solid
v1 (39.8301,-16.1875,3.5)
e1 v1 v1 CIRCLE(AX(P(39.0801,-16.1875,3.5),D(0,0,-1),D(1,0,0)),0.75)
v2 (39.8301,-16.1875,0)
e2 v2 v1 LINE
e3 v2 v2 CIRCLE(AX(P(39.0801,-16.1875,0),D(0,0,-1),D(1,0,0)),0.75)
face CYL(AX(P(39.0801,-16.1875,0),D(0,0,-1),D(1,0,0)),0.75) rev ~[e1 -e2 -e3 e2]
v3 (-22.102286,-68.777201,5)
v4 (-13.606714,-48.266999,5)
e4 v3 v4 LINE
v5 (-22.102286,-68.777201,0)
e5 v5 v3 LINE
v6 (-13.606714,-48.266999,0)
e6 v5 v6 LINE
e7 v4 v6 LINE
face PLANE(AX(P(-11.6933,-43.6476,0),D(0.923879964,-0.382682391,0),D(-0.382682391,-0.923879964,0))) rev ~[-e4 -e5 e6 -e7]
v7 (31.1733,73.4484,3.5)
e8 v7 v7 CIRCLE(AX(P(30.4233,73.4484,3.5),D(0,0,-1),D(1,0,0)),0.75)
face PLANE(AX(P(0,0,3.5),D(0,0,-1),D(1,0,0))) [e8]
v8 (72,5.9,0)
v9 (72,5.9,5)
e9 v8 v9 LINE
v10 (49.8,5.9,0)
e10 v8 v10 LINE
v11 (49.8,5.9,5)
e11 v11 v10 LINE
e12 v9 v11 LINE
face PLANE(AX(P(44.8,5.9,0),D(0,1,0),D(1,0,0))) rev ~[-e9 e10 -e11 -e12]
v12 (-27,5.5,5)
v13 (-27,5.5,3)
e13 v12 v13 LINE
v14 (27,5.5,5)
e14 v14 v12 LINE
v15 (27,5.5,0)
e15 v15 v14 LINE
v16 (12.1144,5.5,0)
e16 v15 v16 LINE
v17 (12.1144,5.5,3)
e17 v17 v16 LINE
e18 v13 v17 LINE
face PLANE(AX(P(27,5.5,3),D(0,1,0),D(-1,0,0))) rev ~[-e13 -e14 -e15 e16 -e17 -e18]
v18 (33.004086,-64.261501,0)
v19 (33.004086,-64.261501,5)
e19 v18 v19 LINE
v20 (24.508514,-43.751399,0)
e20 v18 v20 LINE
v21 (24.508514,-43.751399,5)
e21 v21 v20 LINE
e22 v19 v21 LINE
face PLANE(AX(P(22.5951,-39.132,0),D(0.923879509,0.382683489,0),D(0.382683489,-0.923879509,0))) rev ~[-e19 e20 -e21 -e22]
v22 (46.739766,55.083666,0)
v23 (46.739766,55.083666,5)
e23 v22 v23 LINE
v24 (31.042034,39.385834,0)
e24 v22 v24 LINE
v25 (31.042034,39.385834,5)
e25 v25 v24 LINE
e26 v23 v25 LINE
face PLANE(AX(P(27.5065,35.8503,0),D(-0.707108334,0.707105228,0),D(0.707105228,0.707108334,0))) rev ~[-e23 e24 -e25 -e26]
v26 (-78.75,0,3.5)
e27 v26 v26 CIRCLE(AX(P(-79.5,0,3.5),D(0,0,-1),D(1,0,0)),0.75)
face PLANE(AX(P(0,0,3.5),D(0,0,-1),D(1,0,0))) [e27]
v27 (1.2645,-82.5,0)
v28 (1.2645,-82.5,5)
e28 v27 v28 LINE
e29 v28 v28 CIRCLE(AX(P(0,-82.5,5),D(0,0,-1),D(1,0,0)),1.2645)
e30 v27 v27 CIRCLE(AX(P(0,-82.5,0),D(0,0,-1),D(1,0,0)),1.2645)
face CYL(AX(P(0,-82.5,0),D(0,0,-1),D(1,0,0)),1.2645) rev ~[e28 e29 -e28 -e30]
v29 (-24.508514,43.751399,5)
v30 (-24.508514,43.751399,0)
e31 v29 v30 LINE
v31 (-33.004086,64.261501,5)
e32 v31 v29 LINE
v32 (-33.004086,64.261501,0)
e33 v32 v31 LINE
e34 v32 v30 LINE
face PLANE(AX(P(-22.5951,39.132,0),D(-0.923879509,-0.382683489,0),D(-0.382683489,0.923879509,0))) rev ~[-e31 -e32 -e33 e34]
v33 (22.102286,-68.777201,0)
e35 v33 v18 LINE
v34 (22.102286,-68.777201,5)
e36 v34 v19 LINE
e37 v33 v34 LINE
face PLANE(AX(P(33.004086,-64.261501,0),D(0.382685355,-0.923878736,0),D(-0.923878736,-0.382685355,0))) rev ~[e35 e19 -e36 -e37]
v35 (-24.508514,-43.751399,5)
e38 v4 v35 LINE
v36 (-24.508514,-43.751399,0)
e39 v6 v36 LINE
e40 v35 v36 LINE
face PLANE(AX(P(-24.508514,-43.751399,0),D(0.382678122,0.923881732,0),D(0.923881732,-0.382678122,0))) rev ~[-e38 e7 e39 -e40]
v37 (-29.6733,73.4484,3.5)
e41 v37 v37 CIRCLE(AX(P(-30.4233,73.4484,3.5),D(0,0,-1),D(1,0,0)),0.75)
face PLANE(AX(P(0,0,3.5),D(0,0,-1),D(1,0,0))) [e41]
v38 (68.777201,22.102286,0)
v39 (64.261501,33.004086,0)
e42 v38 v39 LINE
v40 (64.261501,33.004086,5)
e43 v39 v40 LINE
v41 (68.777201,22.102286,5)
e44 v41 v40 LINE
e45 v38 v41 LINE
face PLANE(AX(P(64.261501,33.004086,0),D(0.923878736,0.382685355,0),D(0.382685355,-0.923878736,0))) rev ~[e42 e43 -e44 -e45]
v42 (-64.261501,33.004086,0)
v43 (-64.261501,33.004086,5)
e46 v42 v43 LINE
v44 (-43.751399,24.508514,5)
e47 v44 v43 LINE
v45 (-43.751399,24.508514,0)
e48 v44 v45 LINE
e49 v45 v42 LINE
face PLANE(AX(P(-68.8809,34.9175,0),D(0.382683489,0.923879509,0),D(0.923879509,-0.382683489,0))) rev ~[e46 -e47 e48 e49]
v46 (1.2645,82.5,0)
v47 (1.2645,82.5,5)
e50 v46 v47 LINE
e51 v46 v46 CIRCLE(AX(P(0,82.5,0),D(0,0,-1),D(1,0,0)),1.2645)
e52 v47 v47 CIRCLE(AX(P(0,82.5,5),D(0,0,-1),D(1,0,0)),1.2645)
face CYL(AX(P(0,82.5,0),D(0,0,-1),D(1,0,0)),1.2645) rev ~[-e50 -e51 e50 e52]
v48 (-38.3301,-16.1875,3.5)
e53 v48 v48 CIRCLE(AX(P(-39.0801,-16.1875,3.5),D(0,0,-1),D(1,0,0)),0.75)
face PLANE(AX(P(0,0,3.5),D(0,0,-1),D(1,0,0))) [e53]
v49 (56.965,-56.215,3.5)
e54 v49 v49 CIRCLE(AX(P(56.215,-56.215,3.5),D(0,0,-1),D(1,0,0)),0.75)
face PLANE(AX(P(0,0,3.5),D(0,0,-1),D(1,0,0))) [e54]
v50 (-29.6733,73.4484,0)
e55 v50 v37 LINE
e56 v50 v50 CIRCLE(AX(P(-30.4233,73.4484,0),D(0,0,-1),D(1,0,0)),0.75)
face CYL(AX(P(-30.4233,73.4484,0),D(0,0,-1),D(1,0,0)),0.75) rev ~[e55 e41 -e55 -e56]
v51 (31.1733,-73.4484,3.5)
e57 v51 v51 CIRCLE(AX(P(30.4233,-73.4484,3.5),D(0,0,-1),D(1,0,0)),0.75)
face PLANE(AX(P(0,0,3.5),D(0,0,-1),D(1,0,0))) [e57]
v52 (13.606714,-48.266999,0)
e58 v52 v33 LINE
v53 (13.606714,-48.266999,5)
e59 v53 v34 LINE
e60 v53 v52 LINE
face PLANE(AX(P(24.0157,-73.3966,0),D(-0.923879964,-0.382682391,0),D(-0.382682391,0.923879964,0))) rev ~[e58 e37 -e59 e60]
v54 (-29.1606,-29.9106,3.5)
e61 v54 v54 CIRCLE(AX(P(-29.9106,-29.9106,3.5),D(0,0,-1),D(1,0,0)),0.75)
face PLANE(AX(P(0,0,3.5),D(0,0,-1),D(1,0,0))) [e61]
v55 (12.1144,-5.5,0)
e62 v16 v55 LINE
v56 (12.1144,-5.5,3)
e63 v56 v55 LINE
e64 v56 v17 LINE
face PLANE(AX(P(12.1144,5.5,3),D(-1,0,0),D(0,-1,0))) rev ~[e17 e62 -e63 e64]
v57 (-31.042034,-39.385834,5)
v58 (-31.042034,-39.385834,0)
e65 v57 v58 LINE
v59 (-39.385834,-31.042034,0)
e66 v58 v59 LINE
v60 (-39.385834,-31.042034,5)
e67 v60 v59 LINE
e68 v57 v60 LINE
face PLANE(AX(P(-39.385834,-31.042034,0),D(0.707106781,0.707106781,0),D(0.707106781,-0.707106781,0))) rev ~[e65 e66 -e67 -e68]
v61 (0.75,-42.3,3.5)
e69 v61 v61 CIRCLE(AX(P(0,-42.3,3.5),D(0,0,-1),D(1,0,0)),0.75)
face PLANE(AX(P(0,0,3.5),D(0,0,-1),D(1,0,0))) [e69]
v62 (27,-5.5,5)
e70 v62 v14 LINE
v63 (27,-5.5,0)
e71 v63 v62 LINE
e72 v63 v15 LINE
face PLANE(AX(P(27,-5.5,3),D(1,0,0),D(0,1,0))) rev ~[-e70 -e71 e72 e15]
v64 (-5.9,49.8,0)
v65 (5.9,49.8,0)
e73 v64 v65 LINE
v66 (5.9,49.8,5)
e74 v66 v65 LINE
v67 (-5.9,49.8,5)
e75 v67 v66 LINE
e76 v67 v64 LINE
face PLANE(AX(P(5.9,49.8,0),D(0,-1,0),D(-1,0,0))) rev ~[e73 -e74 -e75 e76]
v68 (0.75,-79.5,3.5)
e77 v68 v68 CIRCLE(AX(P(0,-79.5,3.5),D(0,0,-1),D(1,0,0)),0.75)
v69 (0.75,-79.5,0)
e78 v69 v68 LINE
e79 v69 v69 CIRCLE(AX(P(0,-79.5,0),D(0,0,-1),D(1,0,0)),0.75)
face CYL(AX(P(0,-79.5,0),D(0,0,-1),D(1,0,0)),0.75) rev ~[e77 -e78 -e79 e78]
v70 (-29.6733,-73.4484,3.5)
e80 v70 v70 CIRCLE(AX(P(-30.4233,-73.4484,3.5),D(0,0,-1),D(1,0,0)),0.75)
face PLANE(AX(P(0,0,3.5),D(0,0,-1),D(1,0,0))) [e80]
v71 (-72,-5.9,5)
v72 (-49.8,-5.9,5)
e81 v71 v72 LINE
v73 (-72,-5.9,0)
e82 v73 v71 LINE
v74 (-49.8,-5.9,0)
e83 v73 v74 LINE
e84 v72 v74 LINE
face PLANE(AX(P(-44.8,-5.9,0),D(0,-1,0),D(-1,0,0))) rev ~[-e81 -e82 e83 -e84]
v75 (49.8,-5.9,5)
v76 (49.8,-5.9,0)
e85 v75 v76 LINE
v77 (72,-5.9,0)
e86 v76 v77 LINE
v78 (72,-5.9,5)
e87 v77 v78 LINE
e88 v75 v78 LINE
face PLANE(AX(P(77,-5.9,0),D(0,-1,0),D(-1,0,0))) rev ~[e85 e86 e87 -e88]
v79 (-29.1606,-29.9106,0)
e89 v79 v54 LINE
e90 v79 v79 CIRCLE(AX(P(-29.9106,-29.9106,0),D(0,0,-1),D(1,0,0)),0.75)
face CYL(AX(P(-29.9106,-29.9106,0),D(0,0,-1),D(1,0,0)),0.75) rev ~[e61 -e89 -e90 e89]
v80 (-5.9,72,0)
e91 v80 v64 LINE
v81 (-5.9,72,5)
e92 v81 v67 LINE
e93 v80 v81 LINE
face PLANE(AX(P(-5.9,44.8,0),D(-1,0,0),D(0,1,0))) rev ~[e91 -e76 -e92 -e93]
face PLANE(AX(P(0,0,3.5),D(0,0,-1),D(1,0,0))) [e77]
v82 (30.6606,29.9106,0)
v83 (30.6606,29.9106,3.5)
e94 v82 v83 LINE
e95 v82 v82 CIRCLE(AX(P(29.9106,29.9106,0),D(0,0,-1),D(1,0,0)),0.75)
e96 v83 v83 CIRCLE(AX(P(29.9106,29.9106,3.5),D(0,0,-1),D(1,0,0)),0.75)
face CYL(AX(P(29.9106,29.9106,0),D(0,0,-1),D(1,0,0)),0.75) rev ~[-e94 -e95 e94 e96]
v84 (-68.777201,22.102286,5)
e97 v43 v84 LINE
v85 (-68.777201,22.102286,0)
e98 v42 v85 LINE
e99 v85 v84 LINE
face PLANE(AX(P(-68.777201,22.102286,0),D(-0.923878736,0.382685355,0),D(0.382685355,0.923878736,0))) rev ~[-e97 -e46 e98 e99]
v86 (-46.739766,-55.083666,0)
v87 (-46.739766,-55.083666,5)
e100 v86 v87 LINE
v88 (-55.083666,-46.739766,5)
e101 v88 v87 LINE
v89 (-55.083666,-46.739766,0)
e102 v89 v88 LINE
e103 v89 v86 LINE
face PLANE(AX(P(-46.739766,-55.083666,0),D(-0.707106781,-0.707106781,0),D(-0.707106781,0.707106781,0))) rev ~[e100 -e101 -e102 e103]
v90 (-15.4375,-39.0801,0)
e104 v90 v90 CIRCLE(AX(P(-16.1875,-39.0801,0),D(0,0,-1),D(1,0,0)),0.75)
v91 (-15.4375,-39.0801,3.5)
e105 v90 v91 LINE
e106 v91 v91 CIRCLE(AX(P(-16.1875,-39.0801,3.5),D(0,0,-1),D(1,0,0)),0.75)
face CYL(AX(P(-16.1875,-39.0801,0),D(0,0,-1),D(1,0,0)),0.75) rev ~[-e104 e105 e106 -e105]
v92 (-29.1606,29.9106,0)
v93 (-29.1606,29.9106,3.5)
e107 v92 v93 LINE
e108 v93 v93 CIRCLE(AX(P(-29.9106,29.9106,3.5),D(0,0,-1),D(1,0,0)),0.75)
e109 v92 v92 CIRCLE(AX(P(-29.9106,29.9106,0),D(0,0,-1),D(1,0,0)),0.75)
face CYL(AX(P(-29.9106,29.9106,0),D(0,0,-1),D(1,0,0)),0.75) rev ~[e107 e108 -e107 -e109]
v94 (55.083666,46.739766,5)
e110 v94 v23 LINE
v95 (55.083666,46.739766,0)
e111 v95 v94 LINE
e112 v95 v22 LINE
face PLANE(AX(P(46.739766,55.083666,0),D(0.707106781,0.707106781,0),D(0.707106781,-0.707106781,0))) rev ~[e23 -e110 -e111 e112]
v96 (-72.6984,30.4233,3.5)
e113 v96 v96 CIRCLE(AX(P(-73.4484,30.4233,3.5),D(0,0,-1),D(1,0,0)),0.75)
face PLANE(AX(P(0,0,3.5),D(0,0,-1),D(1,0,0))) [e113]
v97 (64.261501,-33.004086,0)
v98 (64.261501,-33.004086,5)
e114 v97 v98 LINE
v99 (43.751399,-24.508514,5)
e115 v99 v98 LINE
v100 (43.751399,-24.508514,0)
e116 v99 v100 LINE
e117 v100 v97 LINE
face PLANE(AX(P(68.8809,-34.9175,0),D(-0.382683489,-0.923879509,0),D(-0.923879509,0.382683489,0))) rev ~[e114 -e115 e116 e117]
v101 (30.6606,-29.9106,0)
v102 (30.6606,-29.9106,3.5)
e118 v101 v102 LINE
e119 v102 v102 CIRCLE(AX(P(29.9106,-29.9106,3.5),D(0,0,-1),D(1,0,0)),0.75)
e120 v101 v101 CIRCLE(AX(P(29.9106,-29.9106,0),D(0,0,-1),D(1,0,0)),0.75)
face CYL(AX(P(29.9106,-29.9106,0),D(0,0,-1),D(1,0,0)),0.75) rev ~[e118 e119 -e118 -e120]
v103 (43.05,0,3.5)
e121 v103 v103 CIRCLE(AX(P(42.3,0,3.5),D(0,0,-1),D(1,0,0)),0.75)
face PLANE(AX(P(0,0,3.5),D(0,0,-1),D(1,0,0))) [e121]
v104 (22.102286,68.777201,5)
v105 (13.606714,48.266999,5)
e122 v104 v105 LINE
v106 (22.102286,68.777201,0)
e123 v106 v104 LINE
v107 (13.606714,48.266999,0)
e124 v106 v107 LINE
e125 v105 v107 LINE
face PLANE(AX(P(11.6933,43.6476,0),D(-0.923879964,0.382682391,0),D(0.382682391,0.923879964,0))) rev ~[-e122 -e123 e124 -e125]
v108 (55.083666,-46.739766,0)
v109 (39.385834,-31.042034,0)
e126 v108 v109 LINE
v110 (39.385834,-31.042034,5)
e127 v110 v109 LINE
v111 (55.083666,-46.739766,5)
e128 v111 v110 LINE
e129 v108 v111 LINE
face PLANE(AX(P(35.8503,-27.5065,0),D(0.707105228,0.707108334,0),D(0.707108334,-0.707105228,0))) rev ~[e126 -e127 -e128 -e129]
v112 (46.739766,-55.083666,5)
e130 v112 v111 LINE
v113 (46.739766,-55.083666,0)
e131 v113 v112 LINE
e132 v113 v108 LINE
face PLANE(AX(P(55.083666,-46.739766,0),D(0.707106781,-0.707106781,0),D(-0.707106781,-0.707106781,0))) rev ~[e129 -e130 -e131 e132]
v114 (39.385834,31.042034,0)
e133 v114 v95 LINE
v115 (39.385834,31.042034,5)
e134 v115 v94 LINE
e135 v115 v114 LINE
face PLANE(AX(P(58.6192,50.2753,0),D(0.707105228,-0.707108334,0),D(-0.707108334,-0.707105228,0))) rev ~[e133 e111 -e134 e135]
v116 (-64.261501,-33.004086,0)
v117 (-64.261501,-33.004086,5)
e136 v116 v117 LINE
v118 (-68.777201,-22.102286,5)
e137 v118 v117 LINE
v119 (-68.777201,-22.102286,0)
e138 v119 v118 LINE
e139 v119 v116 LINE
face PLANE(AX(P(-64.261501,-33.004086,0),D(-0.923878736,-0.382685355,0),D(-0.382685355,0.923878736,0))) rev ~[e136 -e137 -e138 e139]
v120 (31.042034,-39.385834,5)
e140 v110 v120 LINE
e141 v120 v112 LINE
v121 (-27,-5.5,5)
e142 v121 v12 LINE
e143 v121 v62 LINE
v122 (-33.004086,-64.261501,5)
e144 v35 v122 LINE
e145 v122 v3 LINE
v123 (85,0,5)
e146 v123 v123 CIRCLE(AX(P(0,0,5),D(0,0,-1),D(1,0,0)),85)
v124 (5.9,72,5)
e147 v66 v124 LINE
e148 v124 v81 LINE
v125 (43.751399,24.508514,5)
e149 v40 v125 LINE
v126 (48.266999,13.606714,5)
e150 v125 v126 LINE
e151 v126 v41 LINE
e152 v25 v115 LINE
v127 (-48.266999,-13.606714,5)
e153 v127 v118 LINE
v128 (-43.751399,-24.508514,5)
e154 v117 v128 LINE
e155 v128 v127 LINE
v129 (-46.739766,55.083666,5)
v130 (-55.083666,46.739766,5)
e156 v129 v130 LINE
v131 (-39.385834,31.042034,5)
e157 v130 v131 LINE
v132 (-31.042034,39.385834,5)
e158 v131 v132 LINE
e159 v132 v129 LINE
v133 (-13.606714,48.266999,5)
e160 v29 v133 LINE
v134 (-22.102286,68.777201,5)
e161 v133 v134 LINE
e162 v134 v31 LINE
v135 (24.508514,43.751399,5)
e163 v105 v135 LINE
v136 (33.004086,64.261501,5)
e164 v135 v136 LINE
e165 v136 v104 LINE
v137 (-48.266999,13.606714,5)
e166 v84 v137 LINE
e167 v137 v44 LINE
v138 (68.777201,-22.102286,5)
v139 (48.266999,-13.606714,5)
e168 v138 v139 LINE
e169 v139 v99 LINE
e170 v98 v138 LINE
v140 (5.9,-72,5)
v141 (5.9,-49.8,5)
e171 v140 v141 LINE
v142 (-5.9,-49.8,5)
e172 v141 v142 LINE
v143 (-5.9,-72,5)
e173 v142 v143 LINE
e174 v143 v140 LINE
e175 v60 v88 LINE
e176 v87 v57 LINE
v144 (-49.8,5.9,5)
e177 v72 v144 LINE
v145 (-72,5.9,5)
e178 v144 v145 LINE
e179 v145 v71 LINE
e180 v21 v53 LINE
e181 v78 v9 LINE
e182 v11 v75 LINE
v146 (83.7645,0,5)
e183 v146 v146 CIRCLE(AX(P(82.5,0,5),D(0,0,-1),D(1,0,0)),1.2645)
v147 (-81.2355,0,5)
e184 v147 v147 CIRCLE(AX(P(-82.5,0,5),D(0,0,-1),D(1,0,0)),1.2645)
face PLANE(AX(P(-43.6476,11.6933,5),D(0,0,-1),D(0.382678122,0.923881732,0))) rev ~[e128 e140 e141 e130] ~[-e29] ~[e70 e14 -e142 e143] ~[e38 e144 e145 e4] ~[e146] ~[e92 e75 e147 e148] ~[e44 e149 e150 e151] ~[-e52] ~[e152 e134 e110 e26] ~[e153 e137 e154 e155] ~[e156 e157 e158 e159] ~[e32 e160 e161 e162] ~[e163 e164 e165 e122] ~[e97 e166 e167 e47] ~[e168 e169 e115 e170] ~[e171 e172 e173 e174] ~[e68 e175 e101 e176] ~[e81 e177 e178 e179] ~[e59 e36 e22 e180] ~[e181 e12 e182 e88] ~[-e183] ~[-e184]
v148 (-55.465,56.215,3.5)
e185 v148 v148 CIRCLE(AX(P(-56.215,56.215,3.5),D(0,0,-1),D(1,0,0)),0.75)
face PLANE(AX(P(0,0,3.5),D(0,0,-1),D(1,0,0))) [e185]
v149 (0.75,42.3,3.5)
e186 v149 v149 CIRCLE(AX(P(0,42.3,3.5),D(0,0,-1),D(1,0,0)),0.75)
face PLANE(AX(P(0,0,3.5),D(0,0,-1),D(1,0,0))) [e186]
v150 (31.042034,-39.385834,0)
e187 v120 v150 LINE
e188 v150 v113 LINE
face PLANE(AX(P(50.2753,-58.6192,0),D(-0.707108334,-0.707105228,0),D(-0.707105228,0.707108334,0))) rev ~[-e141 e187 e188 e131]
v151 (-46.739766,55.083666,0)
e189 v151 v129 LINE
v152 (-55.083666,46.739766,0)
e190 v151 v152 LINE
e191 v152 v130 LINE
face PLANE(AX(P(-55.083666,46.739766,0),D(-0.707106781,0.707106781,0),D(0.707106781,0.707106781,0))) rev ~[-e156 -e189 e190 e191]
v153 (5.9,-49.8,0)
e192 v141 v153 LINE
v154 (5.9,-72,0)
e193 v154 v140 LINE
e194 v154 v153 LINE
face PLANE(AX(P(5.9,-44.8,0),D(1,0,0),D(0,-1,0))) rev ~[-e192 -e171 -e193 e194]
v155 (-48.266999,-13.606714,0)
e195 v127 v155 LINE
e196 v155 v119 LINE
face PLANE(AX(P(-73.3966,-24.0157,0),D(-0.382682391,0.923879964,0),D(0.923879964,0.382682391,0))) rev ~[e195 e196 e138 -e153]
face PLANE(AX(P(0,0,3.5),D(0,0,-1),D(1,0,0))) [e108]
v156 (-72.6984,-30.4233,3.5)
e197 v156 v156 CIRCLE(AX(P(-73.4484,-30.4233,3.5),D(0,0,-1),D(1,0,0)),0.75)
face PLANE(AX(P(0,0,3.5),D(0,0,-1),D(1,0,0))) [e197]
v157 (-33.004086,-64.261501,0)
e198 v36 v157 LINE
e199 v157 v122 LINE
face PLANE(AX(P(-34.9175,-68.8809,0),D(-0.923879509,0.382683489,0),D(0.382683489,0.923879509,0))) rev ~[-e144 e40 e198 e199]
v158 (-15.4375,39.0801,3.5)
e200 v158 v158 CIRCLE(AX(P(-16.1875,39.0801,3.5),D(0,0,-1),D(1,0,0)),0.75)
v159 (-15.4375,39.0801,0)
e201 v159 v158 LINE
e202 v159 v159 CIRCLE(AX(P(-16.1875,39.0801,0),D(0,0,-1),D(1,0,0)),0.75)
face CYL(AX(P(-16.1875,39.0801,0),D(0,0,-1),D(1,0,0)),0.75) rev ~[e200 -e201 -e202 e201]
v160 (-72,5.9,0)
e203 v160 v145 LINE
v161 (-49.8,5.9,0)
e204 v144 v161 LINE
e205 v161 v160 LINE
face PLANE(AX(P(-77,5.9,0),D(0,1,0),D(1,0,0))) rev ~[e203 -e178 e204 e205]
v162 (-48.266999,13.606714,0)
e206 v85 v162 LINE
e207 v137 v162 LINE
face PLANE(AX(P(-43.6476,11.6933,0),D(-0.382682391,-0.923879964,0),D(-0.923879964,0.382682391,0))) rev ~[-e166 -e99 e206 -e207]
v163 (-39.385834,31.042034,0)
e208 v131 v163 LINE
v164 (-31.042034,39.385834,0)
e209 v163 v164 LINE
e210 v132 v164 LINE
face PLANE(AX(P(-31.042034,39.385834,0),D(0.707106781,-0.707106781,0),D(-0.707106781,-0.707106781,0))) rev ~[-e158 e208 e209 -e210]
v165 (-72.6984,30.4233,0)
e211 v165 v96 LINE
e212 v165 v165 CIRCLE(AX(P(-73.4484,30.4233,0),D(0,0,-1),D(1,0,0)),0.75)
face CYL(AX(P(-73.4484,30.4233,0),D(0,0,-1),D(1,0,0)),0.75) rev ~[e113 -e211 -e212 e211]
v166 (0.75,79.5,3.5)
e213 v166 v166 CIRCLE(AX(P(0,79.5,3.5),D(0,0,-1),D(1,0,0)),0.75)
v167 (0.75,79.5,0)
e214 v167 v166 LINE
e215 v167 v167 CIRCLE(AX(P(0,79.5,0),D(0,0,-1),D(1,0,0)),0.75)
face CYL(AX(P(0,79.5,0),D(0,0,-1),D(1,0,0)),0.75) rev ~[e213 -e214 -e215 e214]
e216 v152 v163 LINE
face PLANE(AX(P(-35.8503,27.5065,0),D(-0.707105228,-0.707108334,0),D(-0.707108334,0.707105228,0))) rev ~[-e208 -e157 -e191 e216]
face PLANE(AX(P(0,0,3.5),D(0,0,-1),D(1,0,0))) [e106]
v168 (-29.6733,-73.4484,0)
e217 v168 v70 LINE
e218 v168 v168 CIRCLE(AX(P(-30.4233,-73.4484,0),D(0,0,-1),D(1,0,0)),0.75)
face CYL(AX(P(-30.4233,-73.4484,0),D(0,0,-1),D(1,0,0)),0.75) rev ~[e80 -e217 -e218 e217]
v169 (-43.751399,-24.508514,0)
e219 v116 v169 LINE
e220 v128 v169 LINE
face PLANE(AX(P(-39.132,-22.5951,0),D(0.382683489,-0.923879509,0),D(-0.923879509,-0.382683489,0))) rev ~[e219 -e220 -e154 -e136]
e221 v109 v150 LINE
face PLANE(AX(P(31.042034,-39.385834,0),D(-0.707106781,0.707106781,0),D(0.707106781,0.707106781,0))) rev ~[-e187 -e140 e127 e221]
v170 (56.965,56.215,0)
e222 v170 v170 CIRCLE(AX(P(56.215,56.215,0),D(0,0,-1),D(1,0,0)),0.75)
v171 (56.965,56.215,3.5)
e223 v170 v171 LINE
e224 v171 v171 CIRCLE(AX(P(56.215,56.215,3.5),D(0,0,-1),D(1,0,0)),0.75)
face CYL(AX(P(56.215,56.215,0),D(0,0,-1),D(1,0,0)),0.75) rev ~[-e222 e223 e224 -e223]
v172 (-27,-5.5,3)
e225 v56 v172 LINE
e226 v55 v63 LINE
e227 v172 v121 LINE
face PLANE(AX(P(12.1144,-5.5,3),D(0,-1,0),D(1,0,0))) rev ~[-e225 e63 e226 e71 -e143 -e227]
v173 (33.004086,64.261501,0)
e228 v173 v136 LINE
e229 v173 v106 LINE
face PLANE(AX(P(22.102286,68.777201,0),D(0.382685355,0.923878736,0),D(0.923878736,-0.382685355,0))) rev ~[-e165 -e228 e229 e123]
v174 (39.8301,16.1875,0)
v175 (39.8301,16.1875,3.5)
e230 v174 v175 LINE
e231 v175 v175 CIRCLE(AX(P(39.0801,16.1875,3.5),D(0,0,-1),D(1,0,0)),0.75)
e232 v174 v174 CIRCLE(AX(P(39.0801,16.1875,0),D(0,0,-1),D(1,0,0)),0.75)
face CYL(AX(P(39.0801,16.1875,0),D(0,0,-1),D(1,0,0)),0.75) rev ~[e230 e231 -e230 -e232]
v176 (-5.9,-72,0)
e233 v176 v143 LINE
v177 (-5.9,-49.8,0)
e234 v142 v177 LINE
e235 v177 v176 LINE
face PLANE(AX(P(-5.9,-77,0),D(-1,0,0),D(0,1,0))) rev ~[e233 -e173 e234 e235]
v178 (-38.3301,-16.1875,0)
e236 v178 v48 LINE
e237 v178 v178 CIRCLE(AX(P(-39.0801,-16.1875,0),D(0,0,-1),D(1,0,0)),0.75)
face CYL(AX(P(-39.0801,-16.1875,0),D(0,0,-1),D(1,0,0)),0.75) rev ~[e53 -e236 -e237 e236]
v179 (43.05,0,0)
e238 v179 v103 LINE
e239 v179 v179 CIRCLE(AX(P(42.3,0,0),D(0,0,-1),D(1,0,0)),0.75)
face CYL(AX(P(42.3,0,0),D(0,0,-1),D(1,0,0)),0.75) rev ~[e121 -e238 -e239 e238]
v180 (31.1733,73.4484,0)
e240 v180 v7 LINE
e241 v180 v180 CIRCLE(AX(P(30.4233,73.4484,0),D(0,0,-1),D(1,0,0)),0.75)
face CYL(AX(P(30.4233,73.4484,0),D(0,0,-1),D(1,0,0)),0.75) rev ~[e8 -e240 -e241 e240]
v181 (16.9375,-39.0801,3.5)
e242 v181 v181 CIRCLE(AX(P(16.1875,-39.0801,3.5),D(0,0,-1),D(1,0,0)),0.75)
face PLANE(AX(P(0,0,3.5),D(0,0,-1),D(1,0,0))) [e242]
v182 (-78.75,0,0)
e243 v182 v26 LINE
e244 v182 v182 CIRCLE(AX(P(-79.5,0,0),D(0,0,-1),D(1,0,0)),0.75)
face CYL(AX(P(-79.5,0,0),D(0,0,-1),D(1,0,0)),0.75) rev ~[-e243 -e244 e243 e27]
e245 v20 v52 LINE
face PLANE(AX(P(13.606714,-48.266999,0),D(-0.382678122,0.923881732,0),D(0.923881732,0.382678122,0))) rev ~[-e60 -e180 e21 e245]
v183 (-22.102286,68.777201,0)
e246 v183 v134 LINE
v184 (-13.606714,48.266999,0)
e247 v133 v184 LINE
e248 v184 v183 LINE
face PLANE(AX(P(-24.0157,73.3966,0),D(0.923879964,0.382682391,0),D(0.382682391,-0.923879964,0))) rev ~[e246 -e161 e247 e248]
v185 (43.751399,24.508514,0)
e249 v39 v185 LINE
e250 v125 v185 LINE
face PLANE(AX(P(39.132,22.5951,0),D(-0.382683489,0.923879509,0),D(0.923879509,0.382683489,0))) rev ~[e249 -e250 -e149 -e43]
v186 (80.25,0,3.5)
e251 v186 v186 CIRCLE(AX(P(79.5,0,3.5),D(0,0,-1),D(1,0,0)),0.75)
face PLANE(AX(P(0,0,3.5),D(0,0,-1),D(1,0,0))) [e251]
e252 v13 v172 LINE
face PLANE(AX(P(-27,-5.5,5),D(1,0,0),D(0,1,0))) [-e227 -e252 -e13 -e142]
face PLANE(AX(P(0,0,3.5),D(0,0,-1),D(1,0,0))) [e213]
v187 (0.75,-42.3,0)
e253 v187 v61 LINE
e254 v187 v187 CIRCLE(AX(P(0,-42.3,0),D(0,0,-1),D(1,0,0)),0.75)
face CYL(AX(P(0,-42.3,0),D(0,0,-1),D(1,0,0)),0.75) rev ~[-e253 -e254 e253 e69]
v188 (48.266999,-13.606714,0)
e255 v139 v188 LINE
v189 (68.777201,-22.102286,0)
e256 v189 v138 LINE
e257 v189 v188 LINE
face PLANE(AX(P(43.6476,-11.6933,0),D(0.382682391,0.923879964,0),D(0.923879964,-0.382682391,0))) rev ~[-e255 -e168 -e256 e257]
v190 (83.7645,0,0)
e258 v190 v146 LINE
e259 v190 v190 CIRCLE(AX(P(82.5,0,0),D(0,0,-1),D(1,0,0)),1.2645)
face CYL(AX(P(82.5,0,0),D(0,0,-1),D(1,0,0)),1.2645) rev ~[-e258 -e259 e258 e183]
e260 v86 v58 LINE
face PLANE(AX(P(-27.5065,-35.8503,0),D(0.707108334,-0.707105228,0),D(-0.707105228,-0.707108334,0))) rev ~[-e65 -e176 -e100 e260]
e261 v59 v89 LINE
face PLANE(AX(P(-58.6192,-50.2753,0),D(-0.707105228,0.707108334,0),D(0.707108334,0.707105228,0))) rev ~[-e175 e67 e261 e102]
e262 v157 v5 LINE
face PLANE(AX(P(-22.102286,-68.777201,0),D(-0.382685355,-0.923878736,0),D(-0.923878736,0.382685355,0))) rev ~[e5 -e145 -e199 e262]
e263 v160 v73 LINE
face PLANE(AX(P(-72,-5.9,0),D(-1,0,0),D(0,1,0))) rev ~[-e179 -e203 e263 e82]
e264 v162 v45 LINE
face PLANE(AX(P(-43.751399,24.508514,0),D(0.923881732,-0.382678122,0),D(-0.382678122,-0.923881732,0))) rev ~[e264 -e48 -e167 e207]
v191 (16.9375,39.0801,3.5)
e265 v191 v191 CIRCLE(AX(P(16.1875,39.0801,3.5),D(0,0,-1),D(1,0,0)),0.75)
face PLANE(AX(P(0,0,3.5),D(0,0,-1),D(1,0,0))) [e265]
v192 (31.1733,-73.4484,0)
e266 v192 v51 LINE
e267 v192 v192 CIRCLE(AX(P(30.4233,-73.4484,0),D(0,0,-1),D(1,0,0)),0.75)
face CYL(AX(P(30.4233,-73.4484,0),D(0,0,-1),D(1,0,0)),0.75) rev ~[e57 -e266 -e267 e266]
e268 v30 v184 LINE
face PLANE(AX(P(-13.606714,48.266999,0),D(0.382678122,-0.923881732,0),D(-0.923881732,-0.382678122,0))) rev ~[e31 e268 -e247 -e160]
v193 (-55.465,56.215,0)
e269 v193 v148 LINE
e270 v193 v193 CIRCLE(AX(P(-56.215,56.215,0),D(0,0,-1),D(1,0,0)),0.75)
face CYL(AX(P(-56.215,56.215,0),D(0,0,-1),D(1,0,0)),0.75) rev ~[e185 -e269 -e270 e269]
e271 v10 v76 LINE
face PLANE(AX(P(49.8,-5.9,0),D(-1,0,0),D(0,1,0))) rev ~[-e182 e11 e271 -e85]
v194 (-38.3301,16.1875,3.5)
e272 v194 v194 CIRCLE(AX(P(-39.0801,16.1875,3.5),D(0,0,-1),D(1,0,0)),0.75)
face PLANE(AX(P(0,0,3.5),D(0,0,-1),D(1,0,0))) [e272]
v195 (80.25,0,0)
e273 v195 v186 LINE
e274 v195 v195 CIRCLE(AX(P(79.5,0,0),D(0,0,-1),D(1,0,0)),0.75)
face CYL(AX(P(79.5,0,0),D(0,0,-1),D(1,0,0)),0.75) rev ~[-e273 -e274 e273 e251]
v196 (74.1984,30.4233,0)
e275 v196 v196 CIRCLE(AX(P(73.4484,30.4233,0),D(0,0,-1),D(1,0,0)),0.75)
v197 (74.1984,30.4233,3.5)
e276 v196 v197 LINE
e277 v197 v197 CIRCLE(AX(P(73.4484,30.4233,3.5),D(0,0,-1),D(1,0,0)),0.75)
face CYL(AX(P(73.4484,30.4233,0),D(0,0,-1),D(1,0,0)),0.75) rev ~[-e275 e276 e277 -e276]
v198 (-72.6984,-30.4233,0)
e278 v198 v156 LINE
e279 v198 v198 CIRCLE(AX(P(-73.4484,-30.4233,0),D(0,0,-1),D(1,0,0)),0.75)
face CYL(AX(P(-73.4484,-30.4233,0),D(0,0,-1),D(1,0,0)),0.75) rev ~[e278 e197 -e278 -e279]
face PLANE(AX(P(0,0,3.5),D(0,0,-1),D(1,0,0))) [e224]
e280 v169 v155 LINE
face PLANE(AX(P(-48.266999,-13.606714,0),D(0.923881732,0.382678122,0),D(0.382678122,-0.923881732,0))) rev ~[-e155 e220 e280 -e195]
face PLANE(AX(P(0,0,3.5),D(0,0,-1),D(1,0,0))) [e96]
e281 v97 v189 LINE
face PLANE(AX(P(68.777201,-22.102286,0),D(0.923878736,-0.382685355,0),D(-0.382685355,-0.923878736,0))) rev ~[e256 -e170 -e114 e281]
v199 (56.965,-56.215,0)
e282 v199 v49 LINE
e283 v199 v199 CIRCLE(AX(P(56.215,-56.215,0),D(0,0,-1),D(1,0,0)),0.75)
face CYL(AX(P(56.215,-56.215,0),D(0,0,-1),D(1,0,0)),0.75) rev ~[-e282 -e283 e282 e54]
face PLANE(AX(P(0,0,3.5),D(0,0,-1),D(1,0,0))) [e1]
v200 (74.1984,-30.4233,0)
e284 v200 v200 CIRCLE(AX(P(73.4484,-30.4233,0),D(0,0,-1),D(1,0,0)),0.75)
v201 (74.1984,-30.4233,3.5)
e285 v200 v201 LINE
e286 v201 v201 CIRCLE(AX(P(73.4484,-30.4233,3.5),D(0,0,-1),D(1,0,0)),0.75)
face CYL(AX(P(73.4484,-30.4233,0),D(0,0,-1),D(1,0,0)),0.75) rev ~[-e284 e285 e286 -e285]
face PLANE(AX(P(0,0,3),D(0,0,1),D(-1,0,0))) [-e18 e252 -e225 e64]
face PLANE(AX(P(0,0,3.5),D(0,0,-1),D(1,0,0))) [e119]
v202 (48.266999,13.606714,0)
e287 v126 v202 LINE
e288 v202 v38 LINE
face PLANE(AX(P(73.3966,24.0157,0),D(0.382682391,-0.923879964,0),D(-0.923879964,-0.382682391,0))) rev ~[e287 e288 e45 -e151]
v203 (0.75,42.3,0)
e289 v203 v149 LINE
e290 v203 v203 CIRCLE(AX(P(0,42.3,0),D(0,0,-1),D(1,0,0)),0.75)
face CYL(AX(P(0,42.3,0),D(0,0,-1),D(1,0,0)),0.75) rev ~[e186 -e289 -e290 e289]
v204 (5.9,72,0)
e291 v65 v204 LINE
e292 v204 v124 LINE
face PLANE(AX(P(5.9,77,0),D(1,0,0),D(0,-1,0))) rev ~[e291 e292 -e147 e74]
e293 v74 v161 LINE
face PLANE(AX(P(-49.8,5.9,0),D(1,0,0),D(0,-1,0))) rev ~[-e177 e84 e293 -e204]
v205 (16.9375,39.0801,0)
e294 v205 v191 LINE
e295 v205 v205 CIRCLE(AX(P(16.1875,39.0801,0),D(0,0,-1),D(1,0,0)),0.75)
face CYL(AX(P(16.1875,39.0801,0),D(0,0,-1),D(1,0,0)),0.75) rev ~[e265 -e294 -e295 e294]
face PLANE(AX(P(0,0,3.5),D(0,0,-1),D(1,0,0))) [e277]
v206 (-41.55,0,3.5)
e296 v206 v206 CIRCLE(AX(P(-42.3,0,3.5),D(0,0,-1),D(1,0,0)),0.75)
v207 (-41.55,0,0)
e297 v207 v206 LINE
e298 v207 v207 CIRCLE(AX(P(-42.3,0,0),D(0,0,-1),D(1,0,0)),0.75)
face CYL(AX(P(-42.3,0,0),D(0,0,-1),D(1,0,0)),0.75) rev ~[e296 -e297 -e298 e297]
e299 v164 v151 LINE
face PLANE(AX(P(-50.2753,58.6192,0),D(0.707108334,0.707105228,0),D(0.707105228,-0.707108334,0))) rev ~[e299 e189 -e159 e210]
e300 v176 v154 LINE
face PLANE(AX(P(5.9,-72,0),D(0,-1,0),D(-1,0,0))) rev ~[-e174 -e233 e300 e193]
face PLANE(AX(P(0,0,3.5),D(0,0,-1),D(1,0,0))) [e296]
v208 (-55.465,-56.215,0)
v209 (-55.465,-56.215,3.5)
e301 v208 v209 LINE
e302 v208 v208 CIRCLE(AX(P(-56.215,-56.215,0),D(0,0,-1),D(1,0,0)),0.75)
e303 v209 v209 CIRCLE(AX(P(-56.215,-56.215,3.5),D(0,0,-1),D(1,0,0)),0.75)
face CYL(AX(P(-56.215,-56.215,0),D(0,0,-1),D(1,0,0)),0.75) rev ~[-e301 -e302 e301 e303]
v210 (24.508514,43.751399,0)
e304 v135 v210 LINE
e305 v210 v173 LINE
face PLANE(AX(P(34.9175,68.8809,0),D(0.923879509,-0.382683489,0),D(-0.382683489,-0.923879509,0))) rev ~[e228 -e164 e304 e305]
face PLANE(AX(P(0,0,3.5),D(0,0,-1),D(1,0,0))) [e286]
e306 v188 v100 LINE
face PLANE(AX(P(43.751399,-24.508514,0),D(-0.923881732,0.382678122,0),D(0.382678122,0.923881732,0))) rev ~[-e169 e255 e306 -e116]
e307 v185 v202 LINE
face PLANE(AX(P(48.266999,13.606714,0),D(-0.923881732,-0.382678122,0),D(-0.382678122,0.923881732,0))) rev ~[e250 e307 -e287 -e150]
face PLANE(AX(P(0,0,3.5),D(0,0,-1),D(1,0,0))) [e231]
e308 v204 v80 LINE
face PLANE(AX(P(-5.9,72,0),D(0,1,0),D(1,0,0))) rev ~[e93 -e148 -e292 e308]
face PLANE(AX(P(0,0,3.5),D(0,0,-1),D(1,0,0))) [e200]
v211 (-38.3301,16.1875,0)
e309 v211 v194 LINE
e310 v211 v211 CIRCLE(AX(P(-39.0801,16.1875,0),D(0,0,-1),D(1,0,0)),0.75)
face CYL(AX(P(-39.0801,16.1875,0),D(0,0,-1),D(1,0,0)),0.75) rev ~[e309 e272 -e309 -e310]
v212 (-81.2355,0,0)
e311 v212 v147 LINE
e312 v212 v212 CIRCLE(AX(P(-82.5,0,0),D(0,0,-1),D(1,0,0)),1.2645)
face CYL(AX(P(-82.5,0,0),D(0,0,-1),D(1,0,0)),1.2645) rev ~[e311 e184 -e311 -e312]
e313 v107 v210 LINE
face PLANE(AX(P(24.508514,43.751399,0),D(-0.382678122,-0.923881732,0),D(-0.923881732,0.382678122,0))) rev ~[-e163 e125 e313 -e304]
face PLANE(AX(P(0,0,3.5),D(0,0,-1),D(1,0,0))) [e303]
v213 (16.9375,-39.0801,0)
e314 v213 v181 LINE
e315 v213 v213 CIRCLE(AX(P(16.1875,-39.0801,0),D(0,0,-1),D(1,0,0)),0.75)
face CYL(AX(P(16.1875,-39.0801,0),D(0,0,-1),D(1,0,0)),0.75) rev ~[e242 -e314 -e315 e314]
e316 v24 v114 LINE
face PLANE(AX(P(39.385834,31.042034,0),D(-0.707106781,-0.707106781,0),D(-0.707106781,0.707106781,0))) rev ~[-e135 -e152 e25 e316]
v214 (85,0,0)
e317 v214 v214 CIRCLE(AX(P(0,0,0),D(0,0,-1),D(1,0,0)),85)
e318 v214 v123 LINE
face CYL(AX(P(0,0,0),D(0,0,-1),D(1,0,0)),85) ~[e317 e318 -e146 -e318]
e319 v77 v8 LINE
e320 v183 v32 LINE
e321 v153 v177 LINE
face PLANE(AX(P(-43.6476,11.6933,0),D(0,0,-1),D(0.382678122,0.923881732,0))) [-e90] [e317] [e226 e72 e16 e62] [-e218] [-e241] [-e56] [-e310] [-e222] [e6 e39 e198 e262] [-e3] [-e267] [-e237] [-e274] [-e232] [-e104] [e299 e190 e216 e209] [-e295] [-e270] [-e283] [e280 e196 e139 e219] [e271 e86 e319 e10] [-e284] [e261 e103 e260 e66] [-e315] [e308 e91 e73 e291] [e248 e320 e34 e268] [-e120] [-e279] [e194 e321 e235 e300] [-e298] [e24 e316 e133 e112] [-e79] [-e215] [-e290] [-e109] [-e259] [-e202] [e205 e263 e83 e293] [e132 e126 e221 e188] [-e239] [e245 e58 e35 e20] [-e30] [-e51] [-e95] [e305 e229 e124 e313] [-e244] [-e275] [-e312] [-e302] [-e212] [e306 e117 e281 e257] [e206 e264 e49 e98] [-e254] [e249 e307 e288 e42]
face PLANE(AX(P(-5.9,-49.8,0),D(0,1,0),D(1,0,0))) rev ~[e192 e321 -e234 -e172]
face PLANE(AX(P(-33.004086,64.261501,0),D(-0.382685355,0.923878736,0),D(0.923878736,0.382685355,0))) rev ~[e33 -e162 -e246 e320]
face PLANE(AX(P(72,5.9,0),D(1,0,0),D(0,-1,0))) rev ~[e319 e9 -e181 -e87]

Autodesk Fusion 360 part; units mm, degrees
sketch "Sketch1" plane through (0, 0, 0) normal (0, 0, 1) x (1, 0, 0)
  circle A0 centre (0, 0) radius 85
  line L0 (0, -85) -> (-7, -85) construction
  line L1 (0, -85) -> (7, -85) construction
  line L2 (-7, -85) -> (-7, -82) construction
  line L3 (7, -85) -> (7, -82) construction
  line L4 (7, -77) -> (5.9, -77) construction
  line L5 (7, -44.8) -> (5.9, -44.8) construction
  line L6 (-7, -44.8) -> (-5.9, -44.8) construction
  line L7 (-5.9, -44.8) -> (5.9, -44.8)
  line L8 (5.9, -44.8) -> (5.9, -77)
  line L9 (5.9, -77) -> (-5.9, -77)
  line L10 (-5.9, -77) -> (-5.9, -44.8)
  line L11 (0, -39.8) -> (0, -44.8) construction
  line L12 (11.6933, -43.6476) -> (22.5951, -39.132)
  line L13 (24.0157, -73.3966) -> (11.6933, -43.6476)
  line L14 (22.5951, -39.132) -> (34.9175, -68.8809)
  line L15 (34.9175, -68.8809) -> (24.0157, -73.3966)
  line L16 (27.5065, -35.8503) -> (35.8503, -27.5065)
  line L17 (50.2753, -58.6192) -> (27.5065, -35.8503)
  line L18 (35.8503, -27.5065) -> (58.6192, -50.2753)
  line L19 (58.6192, -50.2753) -> (50.2753, -58.6192)
  line L20 (39.132, -22.5951) -> (43.6476, -11.6933)
  line L21 (68.8809, -34.9175) -> (39.132, -22.5951)
  line L22 (43.6476, -11.6933) -> (73.3966, -24.0157)
  line L23 (73.3966, -24.0157) -> (68.8809, -34.9175)
  line L24 (44.8, -5.9) -> (44.8, 5.9)
  line L25 (77, -5.9) -> (44.8, -5.9)
  line L26 (44.8, 5.9) -> (77, 5.9)
  line L27 (77, 5.9) -> (77, -5.9)
  line L28 (43.6476, 11.6933) -> (39.132, 22.5951)
  line L29 (73.3966, 24.0157) -> (43.6476, 11.6933)
  line L30 (39.132, 22.5951) -> (68.8809, 34.9175)
  line L31 (68.8809, 34.9175) -> (73.3966, 24.0157)
  line L32 (35.8503, 27.5065) -> (27.5065, 35.8503)
  line L33 (58.6192, 50.2753) -> (35.8503, 27.5065)
  line L34 (27.5065, 35.8503) -> (50.2753, 58.6192)
  line L35 (50.2753, 58.6192) -> (58.6192, 50.2753)
  line L36 (22.5951, 39.132) -> (11.6933, 43.6476)
  line L37 (34.9175, 68.8809) -> (22.5951, 39.132)
  line L38 (11.6933, 43.6476) -> (24.0157, 73.3966)
  line L39 (24.0157, 73.3966) -> (34.9175, 68.8809)
  line L40 (5.9, 44.8) -> (-5.9, 44.8)
  line L41 (5.9, 77) -> (5.9, 44.8)
  line L42 (-5.9, 44.8) -> (-5.9, 77)
  line L43 (-5.9, 77) -> (5.9, 77)
  line L44 (-11.6933, 43.6476) -> (-22.5951, 39.132)
  line L45 (-24.0157, 73.3966) -> (-11.6933, 43.6476)
  line L46 (-22.5951, 39.132) -> (-34.9175, 68.8809)
  line L47 (-34.9175, 68.8809) -> (-24.0157, 73.3966)
  line L48 (-27.5065, 35.8503) -> (-35.8503, 27.5065)
  line L49 (-50.2753, 58.6192) -> (-27.5065, 35.8503)
  line L50 (-35.8503, 27.5065) -> (-58.6192, 50.2753)
  line L51 (-58.6192, 50.2753) -> (-50.2753, 58.6192)
  line L52 (-39.132, 22.5951) -> (-43.6476, 11.6933)
  line L53 (-68.8809, 34.9175) -> (-39.132, 22.5951)
  line L54 (-43.6476, 11.6933) -> (-73.3966, 24.0157)
  line L55 (-73.3966, 24.0157) -> (-68.8809, 34.9175)
  line L56 (-44.8, 5.9) -> (-44.8, -5.9)
  line L57 (-77, 5.9) -> (-44.8, 5.9)
  line L58 (-44.8, -5.9) -> (-77, -5.9)
  line L59 (-77, -5.9) -> (-77, 5.9)
  line L60 (-43.6476, -11.6933) -> (-39.132, -22.5951)
  line L61 (-73.3966, -24.0157) -> (-43.6476, -11.6933)
  line L62 (-39.132, -22.5951) -> (-68.8809, -34.9175)
  line L63 (-68.8809, -34.9175) -> (-73.3966, -24.0157)
  line L64 (-35.8503, -27.5065) -> (-27.5065, -35.8503)
  line L65 (-58.6192, -50.2753) -> (-35.8503, -27.5065)
  line L66 (-27.5065, -35.8503) -> (-50.2753, -58.6192)
  line L67 (-50.2753, -58.6192) -> (-58.6192, -50.2753)
  line L68 (-22.5951, -39.132) -> (-11.6933, -43.6476)
  line L69 (-34.9175, -68.8809) -> (-22.5951, -39.132)
  line L70 (-11.6933, -43.6476) -> (-24.0157, -73.3966)
  line L71 (-24.0157, -73.3966) -> (-34.9175, -68.8809)
  dimension "d1" = 170
  dimension "d2" = 7
  dimension "d3" = 7
  dimension "d4" = 3
  dimension "d5" = 3
  dimension "d7" = 5
  dimension "d8" = 1.1
  dimension "d10" = 1.1
  dimension "d11" = 1.1
  dimension "d15" = 360
extrude "Extrude1" add sketch "Sketch1" along normal blind 5
sketch "Sketch2" plane through (0, 0, 5) normal (0, 0, 1) x (-1, 0, 0)
  line L0 (-27.5065, -35.8503) -> (-50.2753, -58.6192)
  line L1 (-50.2753, -58.6192) -> (-58.6192, -50.2753)
  line L2 (-58.6192, -50.2753) -> (-35.8503, -27.5065)
  line L3 (-35.8503, -27.5065) -> (-27.5065, -35.8503)
  line L4 (5.9, -44.8) -> (5.9, -77)
  line L5 (5.9, -77) -> (-5.9, -77)
  line L6 (-5.9, -77) -> (-5.9, -44.8)
  line L7 (-5.9, -44.8) -> (5.9, -44.8)
  line L8 (-35.8503, 27.5065) -> (-58.6192, 50.2753)
  line L9 (-58.6192, 50.2753) -> (-50.2753, 58.6192)
  line L10 (-50.2753, 58.6192) -> (-27.5065, 35.8503)
  line L11 (-27.5065, 35.8503) -> (-35.8503, 27.5065)
  line L12 (35.8503, -27.5065) -> (58.6192, -50.2753)
  line L13 (58.6192, -50.2753) -> (50.2753, -58.6192)
  line L14 (50.2753, -58.6192) -> (27.5065, -35.8503)
  line L15 (27.5065, -35.8503) -> (35.8503, -27.5065)
  circle A0 centre (0, 0) radius 85
  line L16 (-5.9, 77) -> (5.9, 77)
  line L17 (5.9, 77) -> (5.9, 44.8)
  line L18 (5.9, 44.8) -> (-5.9, 44.8)
  line L19 (-5.9, 44.8) -> (-5.9, 77)
  line L20 (-39.132, -22.5951) -> (-68.8809, -34.9175)
  line L21 (-68.8809, -34.9175) -> (-73.3966, -24.0157)
  line L22 (-73.3966, -24.0157) -> (-43.6476, -11.6933)
  line L23 (-43.6476, -11.6933) -> (-39.132, -22.5951)
  line L24 (22.5951, -39.132) -> (34.9175, -68.8809)
  line L25 (34.9175, -68.8809) -> (24.0157, -73.3966)
  line L26 (24.0157, -73.3966) -> (11.6933, -43.6476)
  line L27 (11.6933, -43.6476) -> (22.5951, -39.132)
  line L28 (39.132, 22.5951) -> (68.8809, 34.9175)
  line L29 (68.8809, 34.9175) -> (73.3966, 24.0157)
  line L30 (73.3966, 24.0157) -> (43.6476, 11.6933)
  line L31 (43.6476, 11.6933) -> (39.132, 22.5951)
  line L32 (-22.5951, 39.132) -> (-34.9175, 68.8809)
  line L33 (-34.9175, 68.8809) -> (-24.0157, 73.3966)
  line L34 (-24.0157, 73.3966) -> (-11.6933, 43.6476)
  line L35 (-11.6933, 43.6476) -> (-22.5951, 39.132)
  line L36 (44.8, 5.9) -> (77, 5.9)
  line L37 (77, 5.9) -> (77, -5.9)
  line L38 (77, -5.9) -> (44.8, -5.9)
  line L39 (44.8, -5.9) -> (44.8, 5.9)
  line L40 (-11.6933, -43.6476) -> (-24.0157, -73.3966)
  line L41 (-24.0157, -73.3966) -> (-34.9175, -68.8809)
  line L42 (-34.9175, -68.8809) -> (-22.5951, -39.132)
  line L43 (-22.5951, -39.132) -> (-11.6933, -43.6476)
  line L44 (-43.6476, 11.6933) -> (-73.3966, 24.0157)
  line L45 (-73.3966, 24.0157) -> (-68.8809, 34.9175)
  line L46 (-68.8809, 34.9175) -> (-39.132, 22.5951)
  line L47 (-39.132, 22.5951) -> (-43.6476, 11.6933)
  line L48 (27.5065, 35.8503) -> (50.2753, 58.6192)
  line L49 (50.2753, 58.6192) -> (58.6192, 50.2753)
  line L50 (58.6192, 50.2753) -> (35.8503, 27.5065)
  line L51 (35.8503, 27.5065) -> (27.5065, 35.8503)
  line L52 (43.6476, -11.6933) -> (73.3966, -24.0157)
  line L53 (73.3966, -24.0157) -> (68.8809, -34.9175)
  line L54 (68.8809, -34.9175) -> (39.132, -22.5951)
  line L55 (39.132, -22.5951) -> (43.6476, -11.6933)
  line L56 (-44.8, -5.9) -> (-77, -5.9)
  line L57 (-77, -5.9) -> (-77, 5.9)
  line L58 (-77, 5.9) -> (-44.8, 5.9)
  line L59 (-44.8, 5.9) -> (-44.8, -5.9)
  line L60 (11.6933, 43.6476) -> (24.0157, 73.3966)
  line L61 (24.0157, 73.3966) -> (34.9175, 68.8809)
  line L62 (34.9175, 68.8809) -> (22.5951, 39.132)
  line L63 (22.5951, 39.132) -> (11.6933, 43.6476)
  line L64 (0, 0) -> (0, 5.5) construction
  line L65 (0, 5.5) -> (27, 5.5) construction
  line L66 (27, 5.5) -> (27, -5.5) construction
  line L67 (27, -5.5) -> (-27, -5.5) construction
  line L68 (27, 5.5) -> (27, -5.5)
  line L69 (27, -5.5) -> (-27, -5.5)
  line L70 (-27, -5.5) -> (-27, 5.5)
  line L71 (-27, 5.5) -> (27, 5.5)
  dimension "d22" = 5.5
  dimension "d23" = 27
  dimension "d24" = 11
  dimension "d25" = 54
extrude "Extrude2" cut sketch "Sketch2" against normal blind 2 contours L68 L69 L70 L71
sketch "Sketch3" plane through (0, 0, 3) normal (0, 0, 1) x (-1, 0, 0)
  line L0 (-27, 5.5) -> (-27, -5.5)
  line L1 (-27, -5.5) -> (27, -5.5)
  line L2 (27, -5.5) -> (27, 5.5)
  line L3 (27, 5.5) -> (-27, 5.5)
  line L4 (-27, -5.5) -> (-12.1144, -5.5)
  line L5 (-12.1144, -5.5) -> (-12.1144, 5.5)
  line L6 (-12.1144, 5.5) -> (-27, 5.5)
  line L7 (-27, 5.5) -> (-27, -5.5)
extrude "Extrude3" cut sketch "Sketch3" against normal blind 39 contours L0 L1 L3 L4 L5 L6 L7
sketch "Sketch4" plane through (0, 0, 0) normal (0, 0, -1) x (1, 0, 0)
  line L0 (-24.0157, 73.3966) -> (-11.6933, 43.6476)
  line L1 (-11.6933, 43.6476) -> (-22.5951, 39.132)
  line L2 (-22.5951, 39.132) -> (-34.9175, 68.8809)
  line L3 (-34.9175, 68.8809) -> (-24.0157, 73.3966)
  line L4 (77, -5.9) -> (44.8, -5.9)
  line L5 (44.8, -5.9) -> (44.8, 5.9)
  line L6 (44.8, 5.9) -> (77, 5.9)
  line L7 (77, 5.9) -> (77, -5.9)
  line L8 (-73.3966, -24.0157) -> (-43.6476, -11.6933)
  line L9 (-43.6476, -11.6933) -> (-39.132, -22.5951)
  line L10 (-39.132, -22.5951) -> (-68.8809, -34.9175)
  line L11 (-68.8809, -34.9175) -> (-73.3966, -24.0157)
  line L12 (-50.2753, 58.6192) -> (-27.5065, 35.8503)
  line L13 (-27.5065, 35.8503) -> (-35.8503, 27.5065)
  line L14 (-35.8503, 27.5065) -> (-58.6192, 50.2753)
  line L15 (-58.6192, 50.2753) -> (-50.2753, 58.6192)
  line L16 (73.3966, 24.0157) -> (43.6476, 11.6933)
  line L17 (43.6476, 11.6933) -> (39.132, 22.5951)
  line L18 (39.132, 22.5951) -> (68.8809, 34.9175)
  line L19 (68.8809, 34.9175) -> (73.3966, 24.0157)
  line L20 (24.0157, -73.3966) -> (11.6933, -43.6476)
  line L21 (11.6933, -43.6476) -> (22.5951, -39.132)
  line L22 (22.5951, -39.132) -> (34.9175, -68.8809)
  line L23 (34.9175, -68.8809) -> (24.0157, -73.3966)
  line L24 (-77, 5.9) -> (-44.8, 5.9)
  line L25 (-44.8, 5.9) -> (-44.8, -5.9)
  line L26 (-44.8, -5.9) -> (-77, -5.9)
  line L27 (-77, -5.9) -> (-77, 5.9)
  line L28 (34.9175, 68.8809) -> (22.5951, 39.132)
  line L29 (22.5951, 39.132) -> (11.6933, 43.6476)
  line L30 (11.6933, 43.6476) -> (24.0157, 73.3966)
  line L31 (24.0157, 73.3966) -> (34.9175, 68.8809)
  line L32 (-68.8809, 34.9175) -> (-39.132, 22.5951)
  line L33 (-39.132, 22.5951) -> (-43.6476, 11.6933)
  line L34 (-43.6476, 11.6933) -> (-73.3966, 24.0157)
  line L35 (-73.3966, 24.0157) -> (-68.8809, 34.9175)
  line L36 (-34.9175, -68.8809) -> (-22.5951, -39.132)
  line L37 (-22.5951, -39.132) -> (-11.6933, -43.6476)
  line L38 (-11.6933, -43.6476) -> (-24.0157, -73.3966)
  line L39 (-24.0157, -73.3966) -> (-34.9175, -68.8809)
  line L40 (68.8809, -34.9175) -> (39.132, -22.5951)
  line L41 (39.132, -22.5951) -> (43.6476, -11.6933)
  line L42 (43.6476, -11.6933) -> (73.3966, -24.0157)
  line L43 (73.3966, -24.0157) -> (68.8809, -34.9175)
  line L44 (-5.9, 77) -> (5.9, 77)
  line L45 (5.9, 77) -> (5.9, 44.8)
  line L46 (5.9, 44.8) -> (-5.9, 44.8)
  line L47 (-5.9, 44.8) -> (-5.9, 77)
  circle A0 centre (0, 0) radius 85
  line L48 (-58.6192, -50.2753) -> (-35.8503, -27.5065)
  line L49 (-35.8503, -27.5065) -> (-27.5065, -35.8503)
  line L50 (-27.5065, -35.8503) -> (-50.2753, -58.6192)
  line L51 (-50.2753, -58.6192) -> (-58.6192, -50.2753)
  line L52 (58.6192, 50.2753) -> (35.8503, 27.5065)
  line L53 (35.8503, 27.5065) -> (27.5065, 35.8503)
  line L54 (27.5065, 35.8503) -> (50.2753, 58.6192)
  line L55 (50.2753, 58.6192) -> (58.6192, 50.2753)
  line L56 (-5.9, -77) -> (-5.9, -44.8)
  line L57 (-5.9, -44.8) -> (5.9, -44.8)
  line L58 (5.9, -44.8) -> (5.9, -77)
  line L59 (5.9, -77) -> (-5.9, -77)
  line L60 (50.2753, -58.6192) -> (27.5065, -35.8503)
  line L61 (27.5065, -35.8503) -> (35.8503, -27.5065)
  line L62 (35.8503, -27.5065) -> (58.6192, -50.2753)
  line L63 (58.6192, -50.2753) -> (50.2753, -58.6192)
  line L64 (27, -5.5) -> (12.1144, -5.5)
  line L65 (12.1144, -5.5) -> (12.1144, 5.5)
  line L66 (12.1144, 5.5) -> (27, 5.5)
  line L67 (27, 5.5) -> (27, -5.5)
  line L68 (44.8, 0) -> (42.3, 0) construction
  line L69 (44.8, 5.9) -> (77, 5.9) construction
  line L70 (60.9, 5.9) -> (60.9, 0.1412) construction
  circle A1 centre (42.3, 0) radius 0.75
  circle A2 centre (79.5, 0) radius 0.75
  line L71 (60.9, 5.9) -> (60.9, 0.1412) construction
  circle A3 centre (73.4484, 30.4233) radius 0.75
  circle A4 centre (39.0801, 16.1875) radius 0.75
  circle A5 centre (56.215, 56.215) radius 0.75
  circle A6 centre (29.9106, 29.9106) radius 0.75
  circle A7 centre (30.4233, 73.4484) radius 0.75
  circle A8 centre (16.1875, 39.0801) radius 0.75
  circle A9 centre (0, 79.5) radius 0.75
  circle A10 centre (0, 42.3) radius 0.75
  circle A11 centre (-30.4233, 73.4484) radius 0.75
  circle A12 centre (-16.1875, 39.0801) radius 0.75
  circle A13 centre (-56.215, 56.215) radius 0.75
  circle A14 centre (-29.9106, 29.9106) radius 0.75
  circle A15 centre (-73.4484, 30.4233) radius 0.75
  circle A16 centre (-39.0801, 16.1875) radius 0.75
  circle A17 centre (-79.5, 0) radius 0.75
  circle A18 centre (-42.3, 0) radius 0.75
  circle A19 centre (-73.4484, -30.4233) radius 0.75
  circle A20 centre (-39.0801, -16.1875) radius 0.75
  circle A21 centre (-56.215, -56.215) radius 0.75
  circle A22 centre (-29.9106, -29.9106) radius 0.75
  circle A23 centre (-30.4233, -73.4484) radius 0.75
  circle A24 centre (-16.1875, -39.0801) radius 0.75
  circle A25 centre (0, -79.5) radius 0.75
  circle A26 centre (0, -42.3) radius 0.75
  circle A27 centre (30.4233, -73.4484) radius 0.75
  circle A28 centre (16.1875, -39.0801) radius 0.75
  circle A29 centre (56.215, -56.215) radius 0.75
  circle A30 centre (29.9106, -29.9106) radius 0.75
  circle A31 centre (73.4484, -30.4233) radius 0.75
  circle A32 centre (39.0801, -16.1875) radius 0.75
  line L72 (0, 79.5) -> (0, 82.5) construction
  circle A33 centre (0, 82.5) radius 1.55
  line L73 (0, 0) -> (0, 12.2218) construction
  line L74 (0, 12.2218) -> (0, 0) construction
  line L75 (0, 0) -> (-5.8676, 0) construction
  line L76 (0, 0) -> (6.7946, 0) construction
  circle A34 centre (0, -82.5) radius 1.55
  line L77 (79.5, 0) -> (82.5, 0) construction
  circle A35 centre (82.5, 0) radius 1.55
  line L78 (0, 0) -> (0, -8.2494) construction
  circle A36 centre (-82.5, 0) radius 1.55
  line L79 (0, 0) -> (-15.877, 16.4411) construction
  line L80 (0, 0) -> (22.8559, 0) construction
  line L81 (0, 0) -> (7.0711, -7.0711) construction
  line L82 (0, 0) -> (10, 0) construction
  line L83 (0, 0) -> (7.0711, 7.0711) construction
  line L84 (0, 0) -> (10, 0) construction
  line L85 (0, 0) -> (-6.6532, -6.6532) construction
  line L86 (0, 0) -> (9.4097, 0) construction
  dimension "d30" = 2.5
  dimension "d31" = 1.5
  dimension "d33" = 360
  dimension "d36" = 3
  dimension "d37" = 3.1
  dimension "d38" = 3
  dimension "d39" = 3.1
  dimension "d40" = 134
  dimension "d41" = 45
  dimension "d42" = 10
  dimension "d43" = 10
  dimension "d44" = 45
  dimension "d45" = 135
extrude "Extrude4" cut sketch "Sketch4" against normal blind 3.5 contours A1 | A2 | A3 | A4 | A5 | A6 | A7 | A8 | A9 | A10 | A11 | A12 | A13 | A14 | A15 | A16 | A17 | A18 | A19 | A20 | A21 | A22 | A23 | A24 | A25 | A26 | A27 | A28 | A29 | A30 | A31 | A32
extrude "Extrude5" cut sketch "Sketch4" against normal blind 5 contours A33 | A34 | A35 | A36
thread "Thread1" "ISO Metric profile 3.0 M3x0.5 M3x0.5 6H" major diameter 3.086 minor diameter 2.529 pitch 0.5 angle 60 resizes the face on face at (-83.5823, -1.1096, 3.3333)
thread "Thread2" "ISO Metric profile 3.0 M3x0.5 M3x0.5 6H" major diameter 3.086 minor diameter 2.529 pitch 0.5 angle 60 resizes the face on face at (1.5481, -82.4227, 3.3333)
thread "Thread3" "ISO Metric profile 3.0 M3x0.5 M3x0.5 6H" major diameter 3.086 minor diameter 2.529 pitch 0.5 angle 60 resizes the face on face at (81.4177, -1.1096, 3.3333)
thread "Thread4" "ISO Metric profile 3.0 M3x0.5 M3x0.5 6H" major diameter 3.086 minor diameter 2.529 pitch 0.5 angle 60 resizes the face on face at (1.5481, 82.5773, 3.3333)
extrude "Extrude6" add 1 faces at (1.9667, -77, 1.6667) along direction (0, 1, 0) blind 5
extrude "Extrude7" add 1 faces at (-27.6497, -71.8913, 1.6667) along direction (0.382683, 0.92388, 0) blind 5
extrude "Extrude8" add 1 faces at (-53.0566, -55.8379, 1.6667) along direction (0.707107, 0.707107, 0) blind 5
extrude "Extrude9" add 1 faces at (-70.3861, -31.2836, 1.6667) along direction (0.92388, 0.382683, 0) blind 5
extrude "Extrude10" add 1 faces at (31.2836, -70.3861, 1.6667) along direction (-0.382683, 0.92388, 0) blind 5
extrude "Extrude11" add 1 faces at (55.8379, -53.0566, 1.6667) along direction (-0.707107, 0.707107, 0) blind 5
extrude "Extrude12" add 1 faces at (71.8913, -27.6497, 1.6667) along direction (-0.92388, 0.382683, 0) blind 5
extrude "Extrude13" add 1 faces at (77, 1.9667, 1.6667) along direction (-1, 0, 0) blind 5
extrude "Extrude14" add 1 faces at (70.3861, 31.2836, 1.6667) along direction (-0.92388, -0.382683, 0) blind 5
extrude "Extrude15" add 1 faces at (53.0566, 55.8379, 1.6667) along direction (-0.707107, -0.707107, 0) blind 5
extrude "Extrude16" add 1 faces at (27.6497, 71.8913, 1.6667) along direction (-0.382683, -0.92388, 0) blind 5
extrude "Extrude17" add 1 faces at (-1.9667, 77, 3.3333) along direction (0, -1, 0) blind 5
extrude "Extrude18" add 1 faces at (-31.2836, 70.3861, 1.6667) along direction (0.382683, -0.92388, 0) blind 5
extrude "Extrude19" add 1 faces at (-55.8379, 53.0566, 3.3333) along direction (0.707107, -0.707107, 0) blind 5
extrude "Extrude20" add 1 faces at (-71.8913, 27.6497, 1.6667) along direction (0.92388, -0.382683, 0) blind 5
extrude "Extrude21" add 1 faces at (-77, -1.9667, 1.6667) along direction (1, 0, 0) blind 5
extrude "Extrude22" add 1 faces at (-44.8, 1.9667, 1.6667) along direction (-1, 0, 0) blind 5
extrude "Extrude23" add 1 faces at (-42.1424, -15.3273, 1.6667) along direction (-0.92388, -0.382683, 0) blind 5
extrude "Extrude24" add 1 faces at (-33.069, -30.2877, 1.6667) along direction (-0.707107, -0.707107, 0) blind 5
extrude "Extrude25" add 1 faces at (-18.9612, -40.6372, 1.6667) along direction (-0.382683, -0.92388, 0) blind 5
extrude "Extrude26" add 1 faces at (-1.9667, -44.8, 1.6667) along direction (0, -1, 0) blind 5
extrude "Extrude27" add 1 faces at (15.3273, -42.1424, 1.6667) along direction (0.382683, -0.92388, 0) blind 5
extrude "Extrude28" add 1 faces at (30.2877, -33.069, 1.6667) along direction (0.707107, -0.707107, 0) blind 5
extrude "Extrude29" add 1 faces at (40.6372, -18.9612, 1.6667) along direction (0.92388, -0.382683, 0) blind 5
extrude "Extrude30" add 1 faces at (44.8, -1.9667, 1.6667) along direction (1, 0, 0) blind 5
extrude "Extrude31" add 1 faces at (42.1424, 15.3273, 1.6667) along direction (0.92388, 0.382683, 0) blind 5
extrude "Extrude32" add 1 faces at (33.069, 30.2877, 1.6667) along direction (0.707107, 0.707107, 0) blind 5
extrude "Extrude33" add 1 faces at (15.3273, 42.1424, 3.3333) along direction (0.382683, 0.92388, 0) blind 5
extrude "Extrude34" add 1 faces at (1.9667, 44.8, 1.6667) along direction (0, 1, 0) blind 5
extrude "Extrude35" add 1 faces at (-15.3273, 42.1424, 3.3333) along direction (-0.382683, 0.92388, 0) blind 5
extrude "Extrude36" add 1 faces at (-33.069, 30.2877, 1.6667) along direction (-0.707107, 0.707107, 0) blind 5
extrude "Extrude37" add 1 faces at (-40.6372, 18.9612, 1.6667) along direction (-0.92388, 0.382683, 0) blind 5
